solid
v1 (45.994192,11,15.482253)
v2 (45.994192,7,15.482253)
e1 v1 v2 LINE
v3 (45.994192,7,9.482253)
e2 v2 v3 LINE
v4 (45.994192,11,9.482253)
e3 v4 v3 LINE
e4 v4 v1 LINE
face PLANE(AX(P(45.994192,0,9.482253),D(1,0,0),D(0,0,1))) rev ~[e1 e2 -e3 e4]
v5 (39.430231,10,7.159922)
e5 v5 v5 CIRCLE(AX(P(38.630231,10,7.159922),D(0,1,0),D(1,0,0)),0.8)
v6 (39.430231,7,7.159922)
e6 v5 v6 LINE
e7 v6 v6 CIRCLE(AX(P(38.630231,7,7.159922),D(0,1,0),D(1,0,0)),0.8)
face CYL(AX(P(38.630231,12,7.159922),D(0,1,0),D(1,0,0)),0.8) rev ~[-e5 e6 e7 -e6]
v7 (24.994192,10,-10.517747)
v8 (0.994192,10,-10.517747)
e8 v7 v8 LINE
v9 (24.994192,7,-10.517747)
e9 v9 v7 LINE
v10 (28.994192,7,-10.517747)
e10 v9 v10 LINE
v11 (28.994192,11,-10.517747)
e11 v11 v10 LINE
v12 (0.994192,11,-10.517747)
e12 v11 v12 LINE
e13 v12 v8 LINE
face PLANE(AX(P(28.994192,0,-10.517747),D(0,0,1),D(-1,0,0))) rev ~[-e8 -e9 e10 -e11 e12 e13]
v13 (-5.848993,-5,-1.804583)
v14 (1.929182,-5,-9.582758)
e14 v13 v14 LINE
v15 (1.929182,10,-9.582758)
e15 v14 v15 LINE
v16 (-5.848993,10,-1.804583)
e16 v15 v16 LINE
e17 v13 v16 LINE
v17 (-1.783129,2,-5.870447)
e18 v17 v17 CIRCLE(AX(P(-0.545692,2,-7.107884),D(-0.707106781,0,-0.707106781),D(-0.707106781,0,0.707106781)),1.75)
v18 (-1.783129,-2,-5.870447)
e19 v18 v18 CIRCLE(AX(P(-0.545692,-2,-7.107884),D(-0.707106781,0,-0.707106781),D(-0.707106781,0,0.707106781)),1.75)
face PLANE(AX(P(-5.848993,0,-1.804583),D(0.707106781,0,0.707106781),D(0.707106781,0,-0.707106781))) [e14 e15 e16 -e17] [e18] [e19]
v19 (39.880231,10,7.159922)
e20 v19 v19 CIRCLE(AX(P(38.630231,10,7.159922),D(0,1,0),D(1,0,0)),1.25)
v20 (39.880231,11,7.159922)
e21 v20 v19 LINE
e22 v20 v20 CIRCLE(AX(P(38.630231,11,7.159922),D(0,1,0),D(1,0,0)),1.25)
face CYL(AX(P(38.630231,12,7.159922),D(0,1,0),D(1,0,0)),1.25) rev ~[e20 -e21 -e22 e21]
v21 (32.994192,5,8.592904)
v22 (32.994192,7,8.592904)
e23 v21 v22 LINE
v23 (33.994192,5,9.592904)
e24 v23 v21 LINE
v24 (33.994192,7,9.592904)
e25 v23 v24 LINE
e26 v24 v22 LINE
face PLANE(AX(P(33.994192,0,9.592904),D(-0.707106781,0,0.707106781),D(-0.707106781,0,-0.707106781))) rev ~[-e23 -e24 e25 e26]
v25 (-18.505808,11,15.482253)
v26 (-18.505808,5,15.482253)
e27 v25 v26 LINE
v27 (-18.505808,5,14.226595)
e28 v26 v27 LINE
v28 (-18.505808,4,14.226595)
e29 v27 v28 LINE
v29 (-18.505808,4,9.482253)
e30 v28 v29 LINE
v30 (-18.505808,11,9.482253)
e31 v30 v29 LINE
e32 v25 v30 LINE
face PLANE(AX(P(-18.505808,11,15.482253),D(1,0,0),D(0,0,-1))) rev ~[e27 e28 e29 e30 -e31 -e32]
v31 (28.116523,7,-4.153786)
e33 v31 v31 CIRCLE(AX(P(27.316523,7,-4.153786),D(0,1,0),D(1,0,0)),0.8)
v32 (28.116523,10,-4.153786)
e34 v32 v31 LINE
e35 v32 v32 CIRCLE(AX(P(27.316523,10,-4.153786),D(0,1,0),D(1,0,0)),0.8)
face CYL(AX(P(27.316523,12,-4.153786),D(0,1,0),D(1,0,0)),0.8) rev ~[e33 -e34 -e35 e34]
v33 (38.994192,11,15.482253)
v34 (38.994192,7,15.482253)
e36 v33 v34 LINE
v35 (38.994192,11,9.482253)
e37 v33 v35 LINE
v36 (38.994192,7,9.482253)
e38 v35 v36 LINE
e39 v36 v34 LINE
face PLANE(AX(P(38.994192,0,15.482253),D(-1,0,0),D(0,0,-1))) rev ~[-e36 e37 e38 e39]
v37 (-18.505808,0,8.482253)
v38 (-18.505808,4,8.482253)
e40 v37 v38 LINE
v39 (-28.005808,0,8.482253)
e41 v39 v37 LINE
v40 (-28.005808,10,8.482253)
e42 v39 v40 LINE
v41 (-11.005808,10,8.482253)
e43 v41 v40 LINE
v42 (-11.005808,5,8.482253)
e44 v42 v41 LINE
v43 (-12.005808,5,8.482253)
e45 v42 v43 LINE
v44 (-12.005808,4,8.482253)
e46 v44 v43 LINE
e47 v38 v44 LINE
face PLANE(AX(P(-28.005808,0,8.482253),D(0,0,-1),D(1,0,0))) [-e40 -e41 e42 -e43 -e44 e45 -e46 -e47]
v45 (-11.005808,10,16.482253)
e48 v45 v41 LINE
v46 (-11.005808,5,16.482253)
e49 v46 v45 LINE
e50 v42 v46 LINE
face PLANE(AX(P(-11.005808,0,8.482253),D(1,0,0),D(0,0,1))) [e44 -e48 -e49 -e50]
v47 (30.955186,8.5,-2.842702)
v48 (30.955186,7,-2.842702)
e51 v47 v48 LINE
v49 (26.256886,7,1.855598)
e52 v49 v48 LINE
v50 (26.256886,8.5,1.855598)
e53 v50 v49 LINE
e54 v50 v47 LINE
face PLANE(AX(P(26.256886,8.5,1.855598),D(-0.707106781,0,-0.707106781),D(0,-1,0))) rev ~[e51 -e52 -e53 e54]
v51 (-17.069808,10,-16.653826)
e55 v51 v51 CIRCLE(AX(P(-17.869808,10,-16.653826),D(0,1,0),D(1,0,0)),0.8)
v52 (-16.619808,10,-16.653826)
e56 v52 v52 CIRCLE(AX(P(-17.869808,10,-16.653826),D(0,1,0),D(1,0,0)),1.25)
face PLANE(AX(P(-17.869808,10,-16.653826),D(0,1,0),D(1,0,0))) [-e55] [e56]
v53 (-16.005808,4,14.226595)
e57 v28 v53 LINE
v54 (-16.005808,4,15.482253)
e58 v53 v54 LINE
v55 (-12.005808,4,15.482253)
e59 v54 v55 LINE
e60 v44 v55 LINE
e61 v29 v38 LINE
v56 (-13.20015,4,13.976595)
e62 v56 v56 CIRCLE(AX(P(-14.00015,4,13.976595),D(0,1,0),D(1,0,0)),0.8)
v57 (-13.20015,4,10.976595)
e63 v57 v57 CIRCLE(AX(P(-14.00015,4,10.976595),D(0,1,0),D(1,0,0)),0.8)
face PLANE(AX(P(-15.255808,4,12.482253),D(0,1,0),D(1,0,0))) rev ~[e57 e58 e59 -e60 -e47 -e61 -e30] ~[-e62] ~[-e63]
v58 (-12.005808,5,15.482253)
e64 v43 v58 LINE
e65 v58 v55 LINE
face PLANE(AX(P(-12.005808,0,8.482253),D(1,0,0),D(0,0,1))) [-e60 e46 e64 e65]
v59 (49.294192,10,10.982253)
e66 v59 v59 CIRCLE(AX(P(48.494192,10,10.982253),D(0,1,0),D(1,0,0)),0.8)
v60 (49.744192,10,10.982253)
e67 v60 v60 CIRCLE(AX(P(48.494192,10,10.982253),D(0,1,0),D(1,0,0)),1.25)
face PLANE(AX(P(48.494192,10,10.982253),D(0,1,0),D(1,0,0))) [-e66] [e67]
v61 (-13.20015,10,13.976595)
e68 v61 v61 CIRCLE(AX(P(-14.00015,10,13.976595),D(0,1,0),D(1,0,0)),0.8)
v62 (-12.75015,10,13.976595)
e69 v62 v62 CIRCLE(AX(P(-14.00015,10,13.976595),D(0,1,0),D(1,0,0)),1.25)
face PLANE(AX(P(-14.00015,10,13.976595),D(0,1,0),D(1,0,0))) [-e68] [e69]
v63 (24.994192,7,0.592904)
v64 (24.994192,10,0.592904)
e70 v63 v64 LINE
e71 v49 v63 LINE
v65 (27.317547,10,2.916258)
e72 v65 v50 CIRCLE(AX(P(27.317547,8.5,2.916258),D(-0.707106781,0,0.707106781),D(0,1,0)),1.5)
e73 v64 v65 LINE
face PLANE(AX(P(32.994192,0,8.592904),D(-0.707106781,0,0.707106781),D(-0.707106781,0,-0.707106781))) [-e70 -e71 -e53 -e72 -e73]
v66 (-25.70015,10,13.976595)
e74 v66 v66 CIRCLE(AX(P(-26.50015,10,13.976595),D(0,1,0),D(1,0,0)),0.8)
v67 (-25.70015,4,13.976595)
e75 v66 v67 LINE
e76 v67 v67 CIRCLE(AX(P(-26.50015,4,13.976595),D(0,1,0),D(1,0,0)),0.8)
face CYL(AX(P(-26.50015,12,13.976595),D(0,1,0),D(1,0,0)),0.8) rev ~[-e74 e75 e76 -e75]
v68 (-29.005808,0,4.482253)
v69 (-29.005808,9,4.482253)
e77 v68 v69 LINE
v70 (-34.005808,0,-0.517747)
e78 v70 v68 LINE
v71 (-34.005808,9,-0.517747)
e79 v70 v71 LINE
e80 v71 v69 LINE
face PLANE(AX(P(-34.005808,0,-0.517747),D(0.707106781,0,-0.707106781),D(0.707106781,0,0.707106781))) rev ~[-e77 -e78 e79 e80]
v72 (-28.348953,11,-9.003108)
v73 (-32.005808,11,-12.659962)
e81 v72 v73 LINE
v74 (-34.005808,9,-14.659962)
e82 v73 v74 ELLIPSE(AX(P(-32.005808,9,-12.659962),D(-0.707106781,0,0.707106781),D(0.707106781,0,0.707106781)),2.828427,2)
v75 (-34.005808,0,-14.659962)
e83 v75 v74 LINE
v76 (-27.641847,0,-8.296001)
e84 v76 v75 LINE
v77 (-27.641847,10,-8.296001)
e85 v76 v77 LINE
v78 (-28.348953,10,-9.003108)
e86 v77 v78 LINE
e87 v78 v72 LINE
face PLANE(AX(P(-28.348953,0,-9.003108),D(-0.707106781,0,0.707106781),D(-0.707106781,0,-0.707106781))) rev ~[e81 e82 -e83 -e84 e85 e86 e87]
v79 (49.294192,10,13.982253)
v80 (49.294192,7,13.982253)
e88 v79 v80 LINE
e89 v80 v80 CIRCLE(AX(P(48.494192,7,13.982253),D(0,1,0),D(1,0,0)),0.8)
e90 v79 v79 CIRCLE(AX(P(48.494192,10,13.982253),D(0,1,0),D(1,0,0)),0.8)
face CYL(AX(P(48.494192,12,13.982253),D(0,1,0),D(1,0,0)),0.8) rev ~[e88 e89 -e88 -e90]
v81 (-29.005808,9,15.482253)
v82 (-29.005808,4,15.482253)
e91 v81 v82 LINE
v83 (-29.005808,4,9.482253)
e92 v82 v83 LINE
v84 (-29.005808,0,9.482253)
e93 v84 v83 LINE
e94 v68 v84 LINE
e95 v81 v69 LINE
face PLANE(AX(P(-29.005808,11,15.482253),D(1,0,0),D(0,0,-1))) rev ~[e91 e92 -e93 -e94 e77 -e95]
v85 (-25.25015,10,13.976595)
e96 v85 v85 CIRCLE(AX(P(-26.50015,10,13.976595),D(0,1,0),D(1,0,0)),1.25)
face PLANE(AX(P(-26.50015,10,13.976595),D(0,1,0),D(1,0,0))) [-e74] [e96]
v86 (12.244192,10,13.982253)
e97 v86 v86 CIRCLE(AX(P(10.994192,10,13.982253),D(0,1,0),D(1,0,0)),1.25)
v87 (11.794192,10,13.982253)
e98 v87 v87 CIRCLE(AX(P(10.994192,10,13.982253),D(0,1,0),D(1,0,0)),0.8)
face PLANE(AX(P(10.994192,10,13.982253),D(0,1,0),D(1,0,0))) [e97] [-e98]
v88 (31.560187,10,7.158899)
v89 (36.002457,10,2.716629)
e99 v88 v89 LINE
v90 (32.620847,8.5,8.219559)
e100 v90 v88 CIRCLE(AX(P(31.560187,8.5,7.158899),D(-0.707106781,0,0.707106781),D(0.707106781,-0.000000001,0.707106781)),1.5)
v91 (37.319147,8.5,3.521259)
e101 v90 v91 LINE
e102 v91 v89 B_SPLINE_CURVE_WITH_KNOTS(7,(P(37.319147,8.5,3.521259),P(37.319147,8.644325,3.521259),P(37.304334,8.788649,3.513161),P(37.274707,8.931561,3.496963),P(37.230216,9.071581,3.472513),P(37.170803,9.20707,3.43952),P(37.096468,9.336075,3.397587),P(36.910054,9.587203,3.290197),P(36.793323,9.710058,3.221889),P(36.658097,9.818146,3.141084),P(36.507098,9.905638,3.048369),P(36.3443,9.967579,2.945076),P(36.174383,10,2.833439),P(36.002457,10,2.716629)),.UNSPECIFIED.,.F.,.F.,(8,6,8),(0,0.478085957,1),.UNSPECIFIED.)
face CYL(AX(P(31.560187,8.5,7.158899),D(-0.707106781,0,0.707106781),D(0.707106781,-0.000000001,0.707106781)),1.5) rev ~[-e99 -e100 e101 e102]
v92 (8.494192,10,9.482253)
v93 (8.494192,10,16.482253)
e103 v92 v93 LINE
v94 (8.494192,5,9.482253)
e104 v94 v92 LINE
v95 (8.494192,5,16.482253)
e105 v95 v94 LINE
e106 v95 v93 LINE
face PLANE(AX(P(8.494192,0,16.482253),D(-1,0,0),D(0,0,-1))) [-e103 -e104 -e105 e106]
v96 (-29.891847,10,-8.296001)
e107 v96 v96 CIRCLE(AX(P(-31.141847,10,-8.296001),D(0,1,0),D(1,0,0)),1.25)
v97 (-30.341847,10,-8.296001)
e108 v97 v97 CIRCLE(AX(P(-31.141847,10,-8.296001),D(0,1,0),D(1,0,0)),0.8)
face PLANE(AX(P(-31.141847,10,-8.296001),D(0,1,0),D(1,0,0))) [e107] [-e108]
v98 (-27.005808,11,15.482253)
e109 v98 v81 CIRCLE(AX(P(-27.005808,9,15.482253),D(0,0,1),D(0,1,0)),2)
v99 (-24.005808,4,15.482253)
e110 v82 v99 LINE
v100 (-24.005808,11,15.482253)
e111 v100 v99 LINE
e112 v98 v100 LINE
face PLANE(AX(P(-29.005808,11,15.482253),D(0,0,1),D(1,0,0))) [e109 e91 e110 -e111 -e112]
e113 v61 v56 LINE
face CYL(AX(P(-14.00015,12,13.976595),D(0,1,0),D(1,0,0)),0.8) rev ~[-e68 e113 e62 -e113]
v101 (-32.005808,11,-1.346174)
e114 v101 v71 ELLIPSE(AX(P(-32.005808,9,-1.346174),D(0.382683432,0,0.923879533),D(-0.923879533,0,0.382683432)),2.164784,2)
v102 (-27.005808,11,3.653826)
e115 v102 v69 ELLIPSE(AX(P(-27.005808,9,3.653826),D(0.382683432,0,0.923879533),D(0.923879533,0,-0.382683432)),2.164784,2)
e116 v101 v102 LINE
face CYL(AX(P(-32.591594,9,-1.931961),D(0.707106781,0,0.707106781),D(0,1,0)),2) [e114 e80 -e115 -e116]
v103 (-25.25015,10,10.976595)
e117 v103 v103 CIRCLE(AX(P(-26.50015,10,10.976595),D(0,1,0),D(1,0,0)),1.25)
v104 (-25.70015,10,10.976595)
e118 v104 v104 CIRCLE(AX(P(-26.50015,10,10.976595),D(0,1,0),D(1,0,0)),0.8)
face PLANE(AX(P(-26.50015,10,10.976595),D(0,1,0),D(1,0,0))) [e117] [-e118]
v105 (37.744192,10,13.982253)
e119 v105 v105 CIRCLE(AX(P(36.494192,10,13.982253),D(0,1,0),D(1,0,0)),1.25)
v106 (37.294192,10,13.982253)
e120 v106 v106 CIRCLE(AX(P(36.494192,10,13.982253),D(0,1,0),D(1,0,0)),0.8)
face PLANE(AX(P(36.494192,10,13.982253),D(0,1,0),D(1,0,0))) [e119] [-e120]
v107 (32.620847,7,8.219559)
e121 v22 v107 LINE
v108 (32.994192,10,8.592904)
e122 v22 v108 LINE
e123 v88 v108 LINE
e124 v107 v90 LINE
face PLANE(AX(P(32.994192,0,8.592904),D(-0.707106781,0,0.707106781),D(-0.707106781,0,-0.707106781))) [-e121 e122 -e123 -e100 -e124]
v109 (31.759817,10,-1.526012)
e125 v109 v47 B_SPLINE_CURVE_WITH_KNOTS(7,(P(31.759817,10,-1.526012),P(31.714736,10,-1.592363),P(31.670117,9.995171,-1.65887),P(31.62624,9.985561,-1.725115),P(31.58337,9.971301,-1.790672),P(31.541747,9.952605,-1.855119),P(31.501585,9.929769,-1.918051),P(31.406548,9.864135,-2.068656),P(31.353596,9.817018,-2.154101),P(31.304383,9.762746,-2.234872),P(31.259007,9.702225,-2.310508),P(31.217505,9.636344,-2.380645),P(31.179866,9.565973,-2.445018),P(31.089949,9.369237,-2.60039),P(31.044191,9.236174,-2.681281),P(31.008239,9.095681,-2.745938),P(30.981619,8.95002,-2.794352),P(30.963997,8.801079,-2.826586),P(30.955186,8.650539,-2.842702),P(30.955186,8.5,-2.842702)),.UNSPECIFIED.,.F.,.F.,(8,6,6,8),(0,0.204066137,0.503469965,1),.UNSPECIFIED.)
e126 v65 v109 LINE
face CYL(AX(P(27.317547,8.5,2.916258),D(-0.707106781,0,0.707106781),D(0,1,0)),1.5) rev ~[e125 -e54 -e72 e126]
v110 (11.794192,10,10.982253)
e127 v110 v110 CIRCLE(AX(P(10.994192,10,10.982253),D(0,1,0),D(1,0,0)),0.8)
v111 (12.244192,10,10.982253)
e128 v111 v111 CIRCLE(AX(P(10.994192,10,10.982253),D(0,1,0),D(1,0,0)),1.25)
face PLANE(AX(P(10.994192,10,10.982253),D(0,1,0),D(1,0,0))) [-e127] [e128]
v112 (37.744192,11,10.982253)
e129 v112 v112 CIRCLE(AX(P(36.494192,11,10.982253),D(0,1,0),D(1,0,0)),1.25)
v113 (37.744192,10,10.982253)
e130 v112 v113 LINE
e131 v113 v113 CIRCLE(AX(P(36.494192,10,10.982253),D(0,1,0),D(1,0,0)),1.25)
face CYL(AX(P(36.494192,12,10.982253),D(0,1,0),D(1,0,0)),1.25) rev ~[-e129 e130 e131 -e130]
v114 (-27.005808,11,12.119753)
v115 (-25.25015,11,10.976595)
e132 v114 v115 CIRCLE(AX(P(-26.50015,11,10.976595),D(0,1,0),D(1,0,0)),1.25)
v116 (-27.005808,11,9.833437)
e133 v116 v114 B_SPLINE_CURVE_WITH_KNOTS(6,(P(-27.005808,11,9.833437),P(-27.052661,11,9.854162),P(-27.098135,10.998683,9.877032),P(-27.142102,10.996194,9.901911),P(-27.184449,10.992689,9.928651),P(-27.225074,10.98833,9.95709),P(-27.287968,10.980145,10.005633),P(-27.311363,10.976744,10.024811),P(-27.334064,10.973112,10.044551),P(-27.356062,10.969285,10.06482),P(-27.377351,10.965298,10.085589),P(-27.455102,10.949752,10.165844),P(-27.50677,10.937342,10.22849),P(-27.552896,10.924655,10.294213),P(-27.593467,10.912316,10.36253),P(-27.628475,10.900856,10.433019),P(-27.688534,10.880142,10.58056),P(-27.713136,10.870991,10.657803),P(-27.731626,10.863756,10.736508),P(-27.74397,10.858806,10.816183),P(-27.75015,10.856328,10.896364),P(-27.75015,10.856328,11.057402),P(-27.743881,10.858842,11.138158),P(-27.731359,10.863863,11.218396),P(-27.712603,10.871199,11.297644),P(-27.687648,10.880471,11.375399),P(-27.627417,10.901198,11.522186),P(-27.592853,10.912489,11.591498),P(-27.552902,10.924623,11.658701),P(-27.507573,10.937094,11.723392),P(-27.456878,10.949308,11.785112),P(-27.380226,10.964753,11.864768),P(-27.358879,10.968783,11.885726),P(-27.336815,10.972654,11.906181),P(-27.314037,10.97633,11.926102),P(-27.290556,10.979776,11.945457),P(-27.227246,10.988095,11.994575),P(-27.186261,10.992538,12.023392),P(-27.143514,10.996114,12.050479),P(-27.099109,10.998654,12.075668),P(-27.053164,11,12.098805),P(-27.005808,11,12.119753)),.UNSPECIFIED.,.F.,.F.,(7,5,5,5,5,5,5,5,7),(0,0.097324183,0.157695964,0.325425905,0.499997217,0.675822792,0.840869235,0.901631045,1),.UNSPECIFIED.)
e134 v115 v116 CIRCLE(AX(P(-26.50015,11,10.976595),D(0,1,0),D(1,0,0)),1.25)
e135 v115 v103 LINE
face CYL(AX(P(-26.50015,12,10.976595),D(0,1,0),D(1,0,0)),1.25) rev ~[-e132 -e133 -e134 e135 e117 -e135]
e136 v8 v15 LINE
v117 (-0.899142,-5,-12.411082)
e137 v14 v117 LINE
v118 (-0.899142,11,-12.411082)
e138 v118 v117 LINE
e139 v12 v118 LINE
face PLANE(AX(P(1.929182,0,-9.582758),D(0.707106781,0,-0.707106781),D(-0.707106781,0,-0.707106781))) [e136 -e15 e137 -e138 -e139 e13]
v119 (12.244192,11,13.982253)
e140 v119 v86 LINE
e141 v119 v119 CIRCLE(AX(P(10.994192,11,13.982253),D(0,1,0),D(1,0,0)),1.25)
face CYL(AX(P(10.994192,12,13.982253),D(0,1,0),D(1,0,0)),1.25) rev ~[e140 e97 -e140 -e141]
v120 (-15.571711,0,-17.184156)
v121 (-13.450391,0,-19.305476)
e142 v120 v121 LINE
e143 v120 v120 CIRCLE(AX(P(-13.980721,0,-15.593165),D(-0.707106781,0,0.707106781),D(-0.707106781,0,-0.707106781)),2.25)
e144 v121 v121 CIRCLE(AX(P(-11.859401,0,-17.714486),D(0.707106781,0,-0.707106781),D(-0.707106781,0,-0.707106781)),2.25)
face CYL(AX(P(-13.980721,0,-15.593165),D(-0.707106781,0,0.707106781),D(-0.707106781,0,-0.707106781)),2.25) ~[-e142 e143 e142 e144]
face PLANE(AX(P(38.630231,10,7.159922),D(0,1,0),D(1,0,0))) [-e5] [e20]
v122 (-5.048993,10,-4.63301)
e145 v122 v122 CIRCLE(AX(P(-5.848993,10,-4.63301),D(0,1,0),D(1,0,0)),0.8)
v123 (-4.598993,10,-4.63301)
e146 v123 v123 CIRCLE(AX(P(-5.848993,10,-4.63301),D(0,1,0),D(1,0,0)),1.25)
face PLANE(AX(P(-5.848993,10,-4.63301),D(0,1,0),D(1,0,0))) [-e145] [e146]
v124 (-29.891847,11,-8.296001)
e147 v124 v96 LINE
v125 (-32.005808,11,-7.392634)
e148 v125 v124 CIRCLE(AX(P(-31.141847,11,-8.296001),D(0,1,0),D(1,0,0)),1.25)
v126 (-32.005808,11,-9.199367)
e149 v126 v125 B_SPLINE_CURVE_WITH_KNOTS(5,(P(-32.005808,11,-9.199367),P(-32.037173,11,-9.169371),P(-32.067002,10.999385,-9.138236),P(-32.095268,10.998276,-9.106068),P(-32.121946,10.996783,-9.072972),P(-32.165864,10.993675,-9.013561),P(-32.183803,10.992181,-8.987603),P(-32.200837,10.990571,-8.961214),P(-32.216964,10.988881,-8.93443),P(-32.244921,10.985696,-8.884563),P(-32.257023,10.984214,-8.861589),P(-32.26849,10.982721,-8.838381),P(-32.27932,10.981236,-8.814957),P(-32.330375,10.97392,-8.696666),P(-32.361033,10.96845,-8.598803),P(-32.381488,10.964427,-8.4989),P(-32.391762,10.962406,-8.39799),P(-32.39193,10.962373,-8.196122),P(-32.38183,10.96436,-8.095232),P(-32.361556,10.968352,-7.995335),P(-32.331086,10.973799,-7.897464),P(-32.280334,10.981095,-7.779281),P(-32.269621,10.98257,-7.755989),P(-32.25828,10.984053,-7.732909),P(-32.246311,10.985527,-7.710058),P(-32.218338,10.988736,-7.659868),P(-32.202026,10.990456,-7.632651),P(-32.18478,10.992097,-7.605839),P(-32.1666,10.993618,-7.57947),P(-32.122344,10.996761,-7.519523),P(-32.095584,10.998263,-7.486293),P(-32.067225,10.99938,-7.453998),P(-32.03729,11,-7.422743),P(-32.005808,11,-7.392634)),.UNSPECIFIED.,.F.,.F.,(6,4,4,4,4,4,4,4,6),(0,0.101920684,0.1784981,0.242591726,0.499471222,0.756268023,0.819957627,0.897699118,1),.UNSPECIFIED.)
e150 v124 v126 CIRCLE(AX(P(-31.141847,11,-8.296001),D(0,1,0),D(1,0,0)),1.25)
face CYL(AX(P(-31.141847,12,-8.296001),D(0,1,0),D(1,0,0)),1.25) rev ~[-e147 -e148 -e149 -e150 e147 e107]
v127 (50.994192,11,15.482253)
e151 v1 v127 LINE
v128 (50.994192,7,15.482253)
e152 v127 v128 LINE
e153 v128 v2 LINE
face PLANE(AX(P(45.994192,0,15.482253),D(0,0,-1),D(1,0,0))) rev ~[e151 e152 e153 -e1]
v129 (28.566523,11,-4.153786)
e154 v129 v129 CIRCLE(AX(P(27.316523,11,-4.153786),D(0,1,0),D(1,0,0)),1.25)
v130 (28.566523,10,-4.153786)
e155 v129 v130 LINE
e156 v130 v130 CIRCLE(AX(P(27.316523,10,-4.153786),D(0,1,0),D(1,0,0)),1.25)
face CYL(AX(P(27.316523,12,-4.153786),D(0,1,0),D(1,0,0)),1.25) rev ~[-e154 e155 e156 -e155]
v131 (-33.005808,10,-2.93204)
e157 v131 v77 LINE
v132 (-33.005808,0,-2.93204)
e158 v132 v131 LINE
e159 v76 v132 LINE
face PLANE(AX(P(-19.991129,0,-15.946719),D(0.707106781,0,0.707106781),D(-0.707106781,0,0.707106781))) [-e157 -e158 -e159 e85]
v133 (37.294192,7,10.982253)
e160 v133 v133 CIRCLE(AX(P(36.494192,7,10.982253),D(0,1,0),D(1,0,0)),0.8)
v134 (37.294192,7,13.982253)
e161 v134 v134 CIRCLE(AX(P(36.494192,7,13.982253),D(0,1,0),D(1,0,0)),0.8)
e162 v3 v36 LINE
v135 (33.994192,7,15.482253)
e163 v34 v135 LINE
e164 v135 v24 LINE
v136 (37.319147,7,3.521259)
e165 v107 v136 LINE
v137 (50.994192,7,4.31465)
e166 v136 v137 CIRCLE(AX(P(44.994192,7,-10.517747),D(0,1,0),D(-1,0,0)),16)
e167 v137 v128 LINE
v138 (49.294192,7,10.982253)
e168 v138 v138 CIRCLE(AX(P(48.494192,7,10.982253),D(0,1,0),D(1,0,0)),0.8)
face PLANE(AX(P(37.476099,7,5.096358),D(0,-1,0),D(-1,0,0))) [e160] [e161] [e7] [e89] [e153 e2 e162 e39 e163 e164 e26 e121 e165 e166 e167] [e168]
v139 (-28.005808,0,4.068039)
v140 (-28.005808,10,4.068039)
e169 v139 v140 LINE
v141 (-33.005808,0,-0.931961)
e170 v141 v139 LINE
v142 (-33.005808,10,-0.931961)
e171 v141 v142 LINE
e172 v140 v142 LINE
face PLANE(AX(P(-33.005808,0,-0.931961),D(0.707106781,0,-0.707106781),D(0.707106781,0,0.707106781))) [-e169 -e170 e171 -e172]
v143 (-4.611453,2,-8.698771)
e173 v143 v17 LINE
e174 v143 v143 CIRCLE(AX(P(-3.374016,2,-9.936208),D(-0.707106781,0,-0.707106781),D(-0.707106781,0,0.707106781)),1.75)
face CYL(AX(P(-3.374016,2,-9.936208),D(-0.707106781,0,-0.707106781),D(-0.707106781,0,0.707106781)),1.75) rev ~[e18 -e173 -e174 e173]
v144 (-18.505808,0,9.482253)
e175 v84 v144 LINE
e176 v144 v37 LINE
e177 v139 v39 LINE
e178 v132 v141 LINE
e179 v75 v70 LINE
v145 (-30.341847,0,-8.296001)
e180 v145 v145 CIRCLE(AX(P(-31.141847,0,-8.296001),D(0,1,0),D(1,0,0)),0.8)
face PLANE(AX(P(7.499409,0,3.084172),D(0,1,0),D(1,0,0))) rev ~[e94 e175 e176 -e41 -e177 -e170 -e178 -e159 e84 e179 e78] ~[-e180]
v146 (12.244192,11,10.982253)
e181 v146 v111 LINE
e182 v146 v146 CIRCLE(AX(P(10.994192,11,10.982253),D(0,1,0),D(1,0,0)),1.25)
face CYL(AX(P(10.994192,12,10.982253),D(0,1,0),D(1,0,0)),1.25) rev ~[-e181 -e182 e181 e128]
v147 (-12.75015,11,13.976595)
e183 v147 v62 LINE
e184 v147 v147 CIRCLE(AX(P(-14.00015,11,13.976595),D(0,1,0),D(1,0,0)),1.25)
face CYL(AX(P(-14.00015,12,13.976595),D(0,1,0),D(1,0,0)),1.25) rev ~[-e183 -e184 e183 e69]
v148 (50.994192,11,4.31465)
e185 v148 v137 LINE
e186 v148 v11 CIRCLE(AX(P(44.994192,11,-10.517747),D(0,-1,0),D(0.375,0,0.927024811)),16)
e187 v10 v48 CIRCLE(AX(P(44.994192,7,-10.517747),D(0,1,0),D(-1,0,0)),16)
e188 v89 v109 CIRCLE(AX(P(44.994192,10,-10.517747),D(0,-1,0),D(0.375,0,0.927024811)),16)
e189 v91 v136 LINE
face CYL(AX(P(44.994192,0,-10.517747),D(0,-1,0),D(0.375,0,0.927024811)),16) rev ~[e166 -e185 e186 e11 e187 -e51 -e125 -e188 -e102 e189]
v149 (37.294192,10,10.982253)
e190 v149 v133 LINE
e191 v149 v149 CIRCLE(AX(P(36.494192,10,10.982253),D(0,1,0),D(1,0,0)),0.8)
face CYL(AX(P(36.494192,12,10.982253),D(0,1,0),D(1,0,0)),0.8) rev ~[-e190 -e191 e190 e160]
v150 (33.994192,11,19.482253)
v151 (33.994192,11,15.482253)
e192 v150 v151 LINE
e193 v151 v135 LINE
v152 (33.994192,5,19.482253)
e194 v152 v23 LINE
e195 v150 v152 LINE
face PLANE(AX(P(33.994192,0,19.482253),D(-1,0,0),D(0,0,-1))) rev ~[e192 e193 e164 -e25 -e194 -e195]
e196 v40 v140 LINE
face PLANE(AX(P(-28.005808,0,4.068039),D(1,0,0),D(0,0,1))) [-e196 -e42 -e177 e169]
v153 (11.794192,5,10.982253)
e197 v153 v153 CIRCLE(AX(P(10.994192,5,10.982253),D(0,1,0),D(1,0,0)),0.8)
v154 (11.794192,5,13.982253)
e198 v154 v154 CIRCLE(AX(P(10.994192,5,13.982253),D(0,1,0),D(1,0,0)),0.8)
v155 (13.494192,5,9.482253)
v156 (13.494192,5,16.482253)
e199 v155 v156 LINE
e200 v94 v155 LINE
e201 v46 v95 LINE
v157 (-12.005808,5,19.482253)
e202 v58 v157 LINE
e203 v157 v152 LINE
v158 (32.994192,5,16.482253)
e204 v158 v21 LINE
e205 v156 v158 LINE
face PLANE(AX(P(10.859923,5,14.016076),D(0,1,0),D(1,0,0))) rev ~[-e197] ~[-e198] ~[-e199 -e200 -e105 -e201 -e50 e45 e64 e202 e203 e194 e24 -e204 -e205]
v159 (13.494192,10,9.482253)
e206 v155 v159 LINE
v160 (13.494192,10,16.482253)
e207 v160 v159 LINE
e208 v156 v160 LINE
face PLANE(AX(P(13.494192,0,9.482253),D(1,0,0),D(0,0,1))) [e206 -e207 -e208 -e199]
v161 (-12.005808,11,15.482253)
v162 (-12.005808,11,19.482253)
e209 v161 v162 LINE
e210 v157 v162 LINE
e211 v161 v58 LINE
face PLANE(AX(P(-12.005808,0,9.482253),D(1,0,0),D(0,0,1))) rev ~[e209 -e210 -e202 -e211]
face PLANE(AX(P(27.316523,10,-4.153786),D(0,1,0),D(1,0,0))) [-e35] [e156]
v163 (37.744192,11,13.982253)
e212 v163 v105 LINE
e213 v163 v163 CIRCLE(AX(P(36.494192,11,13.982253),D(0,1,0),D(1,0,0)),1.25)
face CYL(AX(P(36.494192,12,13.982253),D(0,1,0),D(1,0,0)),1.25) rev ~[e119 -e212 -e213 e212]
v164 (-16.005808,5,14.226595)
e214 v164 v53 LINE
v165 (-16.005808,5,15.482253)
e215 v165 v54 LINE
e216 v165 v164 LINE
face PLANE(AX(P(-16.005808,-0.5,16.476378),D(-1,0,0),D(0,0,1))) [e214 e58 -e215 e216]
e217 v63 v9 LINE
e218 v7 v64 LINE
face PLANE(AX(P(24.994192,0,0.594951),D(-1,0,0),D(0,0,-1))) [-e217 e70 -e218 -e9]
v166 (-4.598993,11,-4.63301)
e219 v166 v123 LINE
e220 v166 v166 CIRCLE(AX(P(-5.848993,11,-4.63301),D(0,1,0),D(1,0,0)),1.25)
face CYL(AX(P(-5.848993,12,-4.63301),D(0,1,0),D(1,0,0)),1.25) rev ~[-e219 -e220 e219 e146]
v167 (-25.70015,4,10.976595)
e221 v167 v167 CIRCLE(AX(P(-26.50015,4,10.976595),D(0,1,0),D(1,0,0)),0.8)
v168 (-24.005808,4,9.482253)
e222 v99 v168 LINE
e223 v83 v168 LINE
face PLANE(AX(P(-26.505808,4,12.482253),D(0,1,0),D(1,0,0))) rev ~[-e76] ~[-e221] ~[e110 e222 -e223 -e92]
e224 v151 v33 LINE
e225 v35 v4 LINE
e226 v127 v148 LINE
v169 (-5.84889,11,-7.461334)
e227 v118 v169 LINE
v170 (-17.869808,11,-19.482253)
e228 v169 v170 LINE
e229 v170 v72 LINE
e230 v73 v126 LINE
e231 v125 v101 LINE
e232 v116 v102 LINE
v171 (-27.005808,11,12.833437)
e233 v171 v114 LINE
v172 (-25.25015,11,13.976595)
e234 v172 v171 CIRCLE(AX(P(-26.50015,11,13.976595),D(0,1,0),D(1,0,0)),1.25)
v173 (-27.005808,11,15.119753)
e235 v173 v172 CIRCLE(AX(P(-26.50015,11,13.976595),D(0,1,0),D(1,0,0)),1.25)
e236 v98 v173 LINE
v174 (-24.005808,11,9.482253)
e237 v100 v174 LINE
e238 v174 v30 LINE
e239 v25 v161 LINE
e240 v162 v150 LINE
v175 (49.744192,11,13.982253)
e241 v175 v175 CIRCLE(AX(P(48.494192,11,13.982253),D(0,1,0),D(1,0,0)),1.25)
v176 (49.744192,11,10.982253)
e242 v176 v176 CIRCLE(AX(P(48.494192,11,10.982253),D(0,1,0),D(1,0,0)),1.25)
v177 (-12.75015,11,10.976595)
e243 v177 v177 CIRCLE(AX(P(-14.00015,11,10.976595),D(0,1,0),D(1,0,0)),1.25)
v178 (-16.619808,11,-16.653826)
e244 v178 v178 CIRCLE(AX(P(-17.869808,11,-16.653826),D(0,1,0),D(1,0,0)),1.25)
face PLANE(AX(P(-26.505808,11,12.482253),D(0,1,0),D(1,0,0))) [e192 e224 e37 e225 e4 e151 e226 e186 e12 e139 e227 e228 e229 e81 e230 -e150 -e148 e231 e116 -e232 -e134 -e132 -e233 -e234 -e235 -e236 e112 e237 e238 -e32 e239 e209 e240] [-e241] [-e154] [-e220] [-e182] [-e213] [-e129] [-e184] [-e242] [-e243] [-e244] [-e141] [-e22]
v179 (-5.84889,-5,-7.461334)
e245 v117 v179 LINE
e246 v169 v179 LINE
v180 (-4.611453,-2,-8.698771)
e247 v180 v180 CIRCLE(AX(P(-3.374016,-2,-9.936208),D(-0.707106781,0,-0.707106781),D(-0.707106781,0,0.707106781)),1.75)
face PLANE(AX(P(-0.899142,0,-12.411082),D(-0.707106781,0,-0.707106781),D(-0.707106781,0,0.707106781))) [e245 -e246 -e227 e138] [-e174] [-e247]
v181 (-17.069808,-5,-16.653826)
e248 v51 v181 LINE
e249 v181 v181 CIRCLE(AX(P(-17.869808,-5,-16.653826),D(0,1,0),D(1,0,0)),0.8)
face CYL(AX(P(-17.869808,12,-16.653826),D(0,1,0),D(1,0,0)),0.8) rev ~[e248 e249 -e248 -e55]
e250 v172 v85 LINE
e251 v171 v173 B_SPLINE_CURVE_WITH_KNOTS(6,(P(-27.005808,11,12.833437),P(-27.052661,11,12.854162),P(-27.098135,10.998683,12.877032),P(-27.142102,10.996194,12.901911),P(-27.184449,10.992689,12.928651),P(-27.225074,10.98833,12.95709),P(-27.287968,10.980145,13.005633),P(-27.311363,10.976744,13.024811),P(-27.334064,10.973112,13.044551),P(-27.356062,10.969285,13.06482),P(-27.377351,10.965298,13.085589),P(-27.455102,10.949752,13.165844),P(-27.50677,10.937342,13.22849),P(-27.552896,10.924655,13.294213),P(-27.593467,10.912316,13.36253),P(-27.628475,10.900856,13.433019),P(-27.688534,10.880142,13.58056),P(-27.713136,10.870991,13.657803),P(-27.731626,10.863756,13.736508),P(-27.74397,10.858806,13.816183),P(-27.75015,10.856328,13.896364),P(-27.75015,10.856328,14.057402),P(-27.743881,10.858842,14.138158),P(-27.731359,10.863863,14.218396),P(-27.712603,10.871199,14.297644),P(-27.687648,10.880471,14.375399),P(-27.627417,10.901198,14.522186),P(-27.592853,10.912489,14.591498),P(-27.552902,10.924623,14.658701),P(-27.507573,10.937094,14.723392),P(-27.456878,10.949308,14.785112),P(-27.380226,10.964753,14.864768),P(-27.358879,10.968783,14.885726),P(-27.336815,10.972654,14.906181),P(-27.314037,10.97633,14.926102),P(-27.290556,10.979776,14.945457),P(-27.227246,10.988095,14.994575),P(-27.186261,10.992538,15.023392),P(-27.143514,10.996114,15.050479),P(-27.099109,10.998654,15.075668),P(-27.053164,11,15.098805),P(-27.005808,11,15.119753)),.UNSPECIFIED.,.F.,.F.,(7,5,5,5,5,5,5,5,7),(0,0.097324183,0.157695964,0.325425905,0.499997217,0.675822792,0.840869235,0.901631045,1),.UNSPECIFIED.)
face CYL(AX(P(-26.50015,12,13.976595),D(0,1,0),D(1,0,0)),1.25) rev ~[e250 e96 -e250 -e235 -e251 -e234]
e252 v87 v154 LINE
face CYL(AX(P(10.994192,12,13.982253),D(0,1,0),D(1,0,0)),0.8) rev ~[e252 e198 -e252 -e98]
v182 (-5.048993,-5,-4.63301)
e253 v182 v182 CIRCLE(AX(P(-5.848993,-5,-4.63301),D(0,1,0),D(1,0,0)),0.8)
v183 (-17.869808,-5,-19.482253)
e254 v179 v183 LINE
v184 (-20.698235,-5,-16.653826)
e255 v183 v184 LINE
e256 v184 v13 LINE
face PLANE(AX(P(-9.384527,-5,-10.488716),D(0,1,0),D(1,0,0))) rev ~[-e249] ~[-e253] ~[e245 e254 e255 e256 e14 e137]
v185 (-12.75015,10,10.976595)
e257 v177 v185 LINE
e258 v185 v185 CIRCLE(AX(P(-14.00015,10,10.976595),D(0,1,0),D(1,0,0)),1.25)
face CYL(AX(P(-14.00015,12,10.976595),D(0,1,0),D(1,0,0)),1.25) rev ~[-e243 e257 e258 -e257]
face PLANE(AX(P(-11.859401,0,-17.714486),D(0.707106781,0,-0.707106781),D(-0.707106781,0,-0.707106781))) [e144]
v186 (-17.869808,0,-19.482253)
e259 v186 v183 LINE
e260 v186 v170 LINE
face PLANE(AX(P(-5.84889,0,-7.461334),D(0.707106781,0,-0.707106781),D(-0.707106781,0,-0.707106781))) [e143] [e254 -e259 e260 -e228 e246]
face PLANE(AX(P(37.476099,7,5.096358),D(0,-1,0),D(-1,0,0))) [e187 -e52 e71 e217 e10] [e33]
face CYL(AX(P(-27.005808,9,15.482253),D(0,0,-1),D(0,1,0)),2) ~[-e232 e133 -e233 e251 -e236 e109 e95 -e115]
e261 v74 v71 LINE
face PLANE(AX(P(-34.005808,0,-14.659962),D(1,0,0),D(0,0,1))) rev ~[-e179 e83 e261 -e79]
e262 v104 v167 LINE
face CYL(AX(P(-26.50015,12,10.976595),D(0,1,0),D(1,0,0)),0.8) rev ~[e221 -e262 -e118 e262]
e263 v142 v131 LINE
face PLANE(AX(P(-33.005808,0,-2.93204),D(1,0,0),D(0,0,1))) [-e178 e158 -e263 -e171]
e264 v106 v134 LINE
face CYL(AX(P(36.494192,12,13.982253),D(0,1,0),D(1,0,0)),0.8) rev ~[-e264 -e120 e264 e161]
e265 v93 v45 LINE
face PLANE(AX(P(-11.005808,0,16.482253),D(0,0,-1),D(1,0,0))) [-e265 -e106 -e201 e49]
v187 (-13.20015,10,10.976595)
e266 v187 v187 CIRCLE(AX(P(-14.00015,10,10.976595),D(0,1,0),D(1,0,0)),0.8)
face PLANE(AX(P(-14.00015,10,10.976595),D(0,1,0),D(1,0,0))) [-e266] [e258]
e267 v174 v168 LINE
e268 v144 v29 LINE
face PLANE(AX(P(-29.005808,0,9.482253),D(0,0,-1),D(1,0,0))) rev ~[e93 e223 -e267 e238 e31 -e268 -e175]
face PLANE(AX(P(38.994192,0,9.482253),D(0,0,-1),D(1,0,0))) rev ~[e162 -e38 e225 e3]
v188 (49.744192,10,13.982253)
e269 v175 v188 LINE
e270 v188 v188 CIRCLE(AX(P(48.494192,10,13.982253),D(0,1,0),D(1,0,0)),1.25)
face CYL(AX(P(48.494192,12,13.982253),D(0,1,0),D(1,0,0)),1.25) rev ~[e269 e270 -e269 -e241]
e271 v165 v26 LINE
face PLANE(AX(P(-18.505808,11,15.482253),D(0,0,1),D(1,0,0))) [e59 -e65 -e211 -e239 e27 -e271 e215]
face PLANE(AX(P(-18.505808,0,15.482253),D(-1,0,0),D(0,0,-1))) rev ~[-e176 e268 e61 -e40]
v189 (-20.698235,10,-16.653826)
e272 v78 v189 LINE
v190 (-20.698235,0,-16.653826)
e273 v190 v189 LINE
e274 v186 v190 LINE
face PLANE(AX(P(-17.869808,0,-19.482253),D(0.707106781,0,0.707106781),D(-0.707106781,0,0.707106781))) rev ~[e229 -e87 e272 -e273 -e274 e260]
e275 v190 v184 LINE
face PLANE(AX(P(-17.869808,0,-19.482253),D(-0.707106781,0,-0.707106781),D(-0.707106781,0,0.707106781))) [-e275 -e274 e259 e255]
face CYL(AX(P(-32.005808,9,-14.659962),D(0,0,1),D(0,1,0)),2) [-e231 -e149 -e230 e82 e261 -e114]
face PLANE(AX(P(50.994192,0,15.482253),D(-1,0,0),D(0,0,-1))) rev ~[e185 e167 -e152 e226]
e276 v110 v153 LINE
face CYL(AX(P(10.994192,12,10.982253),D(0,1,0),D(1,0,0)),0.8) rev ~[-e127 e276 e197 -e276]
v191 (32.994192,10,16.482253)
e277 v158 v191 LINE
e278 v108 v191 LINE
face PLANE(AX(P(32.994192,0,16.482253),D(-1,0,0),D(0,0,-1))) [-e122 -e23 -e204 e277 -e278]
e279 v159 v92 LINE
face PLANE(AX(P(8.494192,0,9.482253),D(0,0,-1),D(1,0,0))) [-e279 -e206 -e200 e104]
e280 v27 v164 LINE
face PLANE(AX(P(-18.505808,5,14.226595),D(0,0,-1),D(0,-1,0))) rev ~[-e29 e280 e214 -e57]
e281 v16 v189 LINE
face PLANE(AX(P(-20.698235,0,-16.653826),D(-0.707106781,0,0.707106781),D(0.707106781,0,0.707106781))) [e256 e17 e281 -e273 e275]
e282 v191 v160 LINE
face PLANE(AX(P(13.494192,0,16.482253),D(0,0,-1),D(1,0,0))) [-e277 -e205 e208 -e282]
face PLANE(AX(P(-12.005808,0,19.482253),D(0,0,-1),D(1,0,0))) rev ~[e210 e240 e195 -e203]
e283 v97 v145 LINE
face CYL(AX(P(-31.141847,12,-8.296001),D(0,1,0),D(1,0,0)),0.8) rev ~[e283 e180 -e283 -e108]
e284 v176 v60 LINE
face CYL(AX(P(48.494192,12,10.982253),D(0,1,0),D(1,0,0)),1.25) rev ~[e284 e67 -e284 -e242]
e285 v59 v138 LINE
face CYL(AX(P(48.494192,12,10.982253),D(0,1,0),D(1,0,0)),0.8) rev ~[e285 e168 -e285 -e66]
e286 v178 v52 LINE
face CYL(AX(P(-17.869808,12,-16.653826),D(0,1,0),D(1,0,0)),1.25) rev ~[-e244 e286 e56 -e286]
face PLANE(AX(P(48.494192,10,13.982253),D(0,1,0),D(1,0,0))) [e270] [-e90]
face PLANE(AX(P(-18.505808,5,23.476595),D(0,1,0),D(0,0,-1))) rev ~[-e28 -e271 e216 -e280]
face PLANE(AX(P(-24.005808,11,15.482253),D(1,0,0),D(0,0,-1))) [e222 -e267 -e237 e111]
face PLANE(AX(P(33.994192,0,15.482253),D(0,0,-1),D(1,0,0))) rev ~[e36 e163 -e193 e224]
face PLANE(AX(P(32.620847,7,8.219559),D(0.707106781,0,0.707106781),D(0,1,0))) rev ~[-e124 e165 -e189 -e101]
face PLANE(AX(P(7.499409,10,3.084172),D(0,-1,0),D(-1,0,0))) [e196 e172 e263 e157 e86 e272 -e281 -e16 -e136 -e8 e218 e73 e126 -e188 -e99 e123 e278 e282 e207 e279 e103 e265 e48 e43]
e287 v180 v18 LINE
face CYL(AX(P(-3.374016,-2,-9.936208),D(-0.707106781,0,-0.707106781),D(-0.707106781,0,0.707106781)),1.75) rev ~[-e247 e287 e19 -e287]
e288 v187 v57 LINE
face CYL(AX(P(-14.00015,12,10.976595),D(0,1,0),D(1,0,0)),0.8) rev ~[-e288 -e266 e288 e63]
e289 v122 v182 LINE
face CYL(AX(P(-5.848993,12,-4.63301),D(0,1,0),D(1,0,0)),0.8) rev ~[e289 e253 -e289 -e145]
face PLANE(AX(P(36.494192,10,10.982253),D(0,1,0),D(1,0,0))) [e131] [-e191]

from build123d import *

# Parameters (mm, degrees)
BOSS_EXTRUDE1_DEPTH      = 11
BOSS_EXTRUDE2_START      = 11
BOSS_EXTRUDE2_DEPTH      = 1
BOSS_EXTRUDE3_START      = 11
SKETCH5_W                = 5
SKETCH5_H                = 6
SKETCH5_W_2              = 6.5
BOSS_EXTRUDE3_DEPTH      = 7
SKETCH9_R                = 2.25
BOSS_EXTRUDE4_DEPTH      = 3
BOSS_EXTRUDE5_DEPTH      = 5
SKETCH7_R                = 1.75
TUBE_HOLES_DEPTH         = 4
PALM_TUBE_OPENING_DEPTH  = 10
WRIST_TUBE_OPENING_DEPTH = 5
SKETCH13_W               = 5
SKETCH13_H               = 6
SKETCH13_W_2             = 6.5
SKETCH13_H_2             = 7
CUT_EXTRUDE1_DEPTH       = 4
FILLET1_R                = 2
POT_INSERT_DEPTH         = 2.5
SCREW_START              = 12
SKETCH6_R                = 0.8
SCREW_HOLES_DEPTH        = 18
SKETCH10_R               = 1.25
SCREW_HEADS_DEPTH        = 2
CUT_EXTRUDE2_DEPTH       = 7
CUT_EXTRUDE4_DEPTH       = 7


with BuildPart() as part:
    # Sketch1 → Boss-Extrude1 (new body)
    with BuildSketch(Plane(origin=(0, 0, 0), x_dir=(1, 0, 0), z_dir=(0, 1, 0))):
        with BuildLine():
            Line((24.994192305, 10.517747211), (0.994192305, 10.517747211))
            Line((0.994192305, 10.517747211), (-0.899142434, 12.41108195))
            Line((-0.899142434, 12.41108195), (-5.848889902, 7.461334481))
            Line((-5.848889902, 7.461334481), (-17.86980821, 19.482252789))
            Line((-17.86980821, 19.482252789), (-28.348953445, 9.003107554))
            Line((-28.348953445, 9.003107554), (-34.005807695, 14.659961804))
            Line((-34.005807695, 14.659961804), (-34.005807695, 0.517747211))
            Line((-34.005807695, 0.517747211), (-29.005807695, -4.482252789))
            Line((-29.005807695, -4.482252789), (-29.005807695, -9.482252789))
            Line((-29.005807695, -9.482252789), (-12.005807695, -9.482252789))
            Line((-12.005807695, -9.482252789), (-12.005807695, -19.482252789))
            Line((-12.005807695, -19.482252789), (33.994192305, -19.482252789))
            Line((33.994192305, -19.482252789), (33.994192305, -15.482252791))
            Line((33.994192305, -15.482252791), (38.994192305, -15.482252791))
            Line((38.994192305, -15.482252791), (38.994192305, -9.482252791))
            Line((38.994192305, -9.482252791), (45.994192305, -9.482252791))
            Line((45.994192305, -9.482252791), (45.994192305, -15.482252791))
            Line((45.994192305, -15.482252791), (50.994192304, -15.482252791))
            Line((50.994192304, -15.482252791), (50.994192304, -4.314649764))
            ThreePointArc((50.994192304, -4.314649764), (36.049920395, -2.74875195), (28.994192305, 10.517747211))
            Line((28.994192305, 10.517747211), (24.994192305, 10.517747211))
        make_face()
        Polygon((13.494192305, -16.482252789), (32.994192305, -16.482252789), (32.994192305, -8.592903632), (24.994192305, -0.592903632), (24.994192305, 9.517747211), (1.864171021, 9.517747211), (-5.84899293, 1.80458326), (-19.991128553, 15.946718883), (-33.005807695, 2.932039742), (-33.005807695, 0.931960773), (-28.005807695, -4.068039227), (-28.005807695, -8.482252789), (-11.005807695, -8.482252789), (-11.005807695, -16.482252789), (8.494192305, -16.482252789), (8.494192305, -9.482252792), (13.494192305, -9.482252792), align=None, mode=Mode.SUBTRACT)
    extrude(amount=BOSS_EXTRUDE1_DEPTH)

    # Sketch3 → Boss-Extrude2 (add)
    with BuildSketch(Plane(origin=(0, 0, 0), x_dir=(1, 0, 0), z_dir=(0, 1, 0)).offset(BOSS_EXTRUDE2_START)):
        with BuildLine():
            Line((-17.86980821, 19.482252789), (-5.848889902, 7.461334481))
            Line((-5.848889902, 7.461334481), (-0.899142434, 12.41108195))
            Line((-0.899142434, 12.41108195), (0.994192305, 10.517747211))
            Line((0.994192305, 10.517747211), (24.994192305, 10.517747211))
            Line((24.994192305, 10.517747211), (28.994192305, 10.517747211))
            ThreePointArc((28.994192305, 10.517747211), (36.049920395, -2.74875195), (50.994192304, -4.314649764))
            Line((50.994192304, -4.314649764), (50.994192304, -15.482252791))
            Line((50.994192304, -15.482252791), (45.994192305, -15.482252791))
            Line((45.994192305, -15.482252791), (45.994192305, -9.482252791))
            Line((45.994192305, -9.482252791), (38.994192305, -9.482252791))
            Line((38.994192305, -9.482252791), (38.994192305, -15.482252791))
            Line((38.994192305, -15.482252791), (33.994192305, -15.482252791))
            Line((33.994192305, -15.482252791), (33.994192305, -19.482252789))
            Line((33.994192305, -19.482252789), (-12.005807695, -19.482252789))
            Line((-12.005807695, -19.482252789), (-12.005807695, -9.482252789))
            Line((-12.005807695, -9.482252789), (-29.005807695, -9.482252789))
            Line((-29.005807695, -9.482252789), (-29.005807695, -4.482252789))
            Line((-29.005807695, -4.482252789), (-34.005807695, 0.517747211))
            Line((-34.005807695, 0.517747211), (-34.005807695, 14.659961804))
            Line((-34.005807695, 14.659961804), (-28.348953445, 9.003107554))
            Line((-28.348953445, 9.003107554), (-17.86980821, 19.482252789))
        make_face()
    extrude(amount=-BOSS_EXTRUDE2_DEPTH)

    # Sketch5 → Boss-Extrude3 (add)
    with BuildSketch(Plane(origin=(0, 0, 0), x_dir=(1, 0, 0), z_dir=(0, 1, 0)).offset(BOSS_EXTRUDE3_START)):
        with Locations((-26.505807695, -12.482252789)):
            Rectangle(SKETCH5_W, SKETCH5_H)
        with Locations((-15.255807695, -12.482252789)):
            Rectangle(SKETCH5_W_2, SKETCH5_H)
    extrude(amount=-BOSS_EXTRUDE3_DEPTH)

    # Sketch9 → Boss-Extrude4 (add)
    with BuildSketch(Plane(origin=(0.80622229, 0, -0.80622229), x_dir=(-0.707106781, 0, -0.707106781), z_dir=(0.707106781, 0, -0.707106781))):
        with Locations((20.911895624, 0)):
            Circle(SKETCH9_R)
    extrude(amount=BOSS_EXTRUDE4_DEPTH)

    # Sketch11 → Boss-Extrude5 (add)
    with BuildSketch(Plane(origin=(0, 0, 0), x_dir=(1, 0, 0), z_dir=(0, 1, 0))):
        Polygon((-17.86980821, 19.482252789), (-20.698235335, 16.653825665), (-5.84899293, 1.80458326), (1.929181663, 9.582757853), (-0.899142434, 12.41108195), (-5.848889902, 7.461334481), align=None)
    extrude(amount=-BOSS_EXTRUDE5_DEPTH)

    # Sketch7 → Tube Holes (cut)
    with BuildSketch(Plane(origin=(-6.655112192, 0, -6.655112192), x_dir=(-0.707106781, 0, 0.707106781), z_dir=(-0.707106781, 0, -0.707106781))):
        with Locations((-4.640170496, 2)):
            Circle(SKETCH7_R)
        with Locations((-4.640170496, -2)):
            Circle(SKETCH7_R)
    extrude(amount=-TUBE_HOLES_DEPTH, mode=Mode.SUBTRACT)

    # Sketch8 → Palm Tube Opening (cut)
    with BuildSketch(Plane(origin=(0, 0, 0), x_dir=(1, 0, 0), z_dir=(0, 1, 0))):
        Polygon((24.994192305, 10.517747211), (0.994192305, 10.517747211), (1.929181663, 9.582757853), (1.864171021, 9.517747211), (27.864171021, -16.482252789), (32.994192305, -16.482252789), (32.994192305, -10.369554414), (28.931746465, -14.432000255), (20.044444837, -5.544698627), (24.994192305, -0.594951158), align=None)
        Polygon((-28.348953445, 9.003107554), (-20.698235335, 16.653825665), (-19.991128553, 15.946718883), (-27.641846664, 8.296000773), align=None)
    extrude(amount=PALM_TUBE_OPENING_DEPTH, mode=Mode.SUBTRACT)

    # Sketch12 → Wrist Tube Opening (cut)
    with BuildSketch(Plane(origin=(0, 0, 0), x_dir=(1, 0, 0), z_dir=(0, 1, 0))):
        Polygon((33.994192305, -19.482252789), (33.994192305, -9.592903632), (32.883541462, -8.482252789), (-12.005807695, -8.482252789), (-12.005807695, -19.482252789), align=None)
    extrude(amount=WRIST_TUBE_OPENING_DEPTH, mode=Mode.SUBTRACT)

    # Sketch13 → Cut-Extrude1 (cut)
    with BuildSketch(Plane(origin=(0, 0, 0), x_dir=(1, 0, 0), z_dir=(0, 1, 0))):
        with Locations((-26.505807695, -12.482252789)):
            Rectangle(SKETCH13_W, SKETCH13_H)
        with Locations((-15.255807695, -11.982252789)):
            Rectangle(SKETCH13_W_2, SKETCH13_H_2)
    extrude(amount=CUT_EXTRUDE1_DEPTH, mode=Mode.SUBTRACT)

    # Fillet1
    fillet1_edges = [part.edges().sort_by_distance(p)[0] for p in [
        (-34.005807695, 11, -7.588854507),
        (-31.505807695, 11, 1.982252789),
        (-29.005807695, 11, 9.982252789),
    ]]
    fillet(fillet1_edges, radius=FILLET1_R)

    # Sketch14 → Pot Insert (cut)
    with BuildSketch(Plane.ZY.offset(18.505807695)):
        Polygon((24.976594858, 1), (23.476594858, 4), (23.476594858, 5), (19.476594858, 5), (14.226594858, 5), (14.226594858, 4), (8.476594858, 4), (8.476594858, -0.5), (8.476594858, -5), (14.226594858, -5), (14.226594858, -6), (19.476594858, -6), (23.476594858, -6), (23.476594858, -5), (24.976594858, -2), (24.976594858, -0.5), align=None)
    extrude(amount=-POT_INSERT_DEPTH, mode=Mode.SUBTRACT)

    # Sketch6 → Screw Holes (cut, through all)
    with BuildSketch(Plane(origin=(0, 0, 0), x_dir=(1, 0, 0), z_dir=(0, 1, 0)).offset(SCREW_START)):
        with Locations((-31.141846664, 8.296000773)):
            Circle(SKETCH6_R)
        with Locations((-26.500149763, -10.976594858)):
            Circle(SKETCH6_R)
        with Locations((-26.500149763, -13.976594858)):
            Circle(SKETCH6_R)
        with Locations((-14.000149763, -13.976594858)):
            Circle(SKETCH6_R)
        with Locations((-14.000149763, -10.976594858)):
            Circle(SKETCH6_R)
        with Locations((10.994192305, -10.982252789)):
            Circle(SKETCH6_R)
        with Locations((10.994192305, -13.982252789)):
            Circle(SKETCH6_R)
        with Locations((-17.86980821, 16.653825665)):
            Circle(SKETCH6_R)
        with Locations((-5.84899293, 4.633010384)):
            Circle(SKETCH6_R)
        with Locations((27.316522776, 4.15378618)):
            Circle(SKETCH6_R)
        with Locations((38.630231275, -7.159922319)):
            Circle(SKETCH6_R)
        with Locations((36.494192305, -13.982252789)):
            Circle(SKETCH6_R)
        with Locations((36.494192305, -10.982252789)):
            Circle(SKETCH6_R)
        with Locations((48.494192305, -10.982252789)):
            Circle(SKETCH6_R)
        with Locations((48.494192305, -13.982252789)):
            Circle(SKETCH6_R)
    extrude(amount=-SCREW_HOLES_DEPTH, mode=Mode.SUBTRACT)

    # Sketch10 → Screw Heads (cut)
    with BuildSketch(Plane(origin=(0, 0, 0), x_dir=(1, 0, 0), z_dir=(0, 1, 0)).offset(SCREW_START)):
        with Locations((-17.86980821, 16.653825665)):
            Circle(SKETCH10_R)
        with Locations((-31.141846664, 8.296000773)):
            Circle(SKETCH10_R)
        with Locations((-26.500149763, -10.976594858)):
            Circle(SKETCH10_R)
        with Locations((-26.500149763, -13.976594858)):
            Circle(SKETCH10_R)
        with Locations((-14.000149763, -13.976594858)):
            Circle(SKETCH10_R)
        with Locations((-14.000149763, -10.976594858)):
            Circle(SKETCH10_R)
        with Locations((10.994192305, -10.982252789)):
            Circle(SKETCH10_R)
        with Locations((10.994192305, -13.982252789)):
            Circle(SKETCH10_R)
        with Locations((-5.84899293, 4.633010384)):
            Circle(SKETCH10_R)
        with Locations((27.316522776, 4.15378618)):
            Circle(SKETCH10_R)
        with Locations((38.630231275, -7.159922319)):
            Circle(SKETCH10_R)
        with Locations((36.494192305, -10.982252789)):
            Circle(SKETCH10_R)
        with Locations((36.494192305, -13.982252789)):
            Circle(SKETCH10_R)
        with Locations((48.494192305, -10.982252789)):
            Circle(SKETCH10_R)
        with Locations((48.494192305, -13.982252789)):
            Circle(SKETCH10_R)
    extrude(amount=-SCREW_HEADS_DEPTH, mode=Mode.SUBTRACT)

    # Sketch15 → Cut-Extrude2 (cut)
    with BuildSketch(Plane(origin=(0, 0, 0), x_dir=(1, 0, 0), z_dir=(0, 1, 0))):
        with BuildLine():
            Line((24.994192305, -0.592903632), (24.994192305, 10.517747211))
            Line((24.994192305, 10.517747211), (28.994192305, 10.517747211))
            ThreePointArc((28.994192305, 10.517747211), (36.049920395, -2.74875195), (50.994192304, -4.314649764))
            Line((50.994192304, -4.314649764), (50.994192304, -15.482252791))
            Line((50.994192304, -15.482252791), (45.994192305, -15.482252791))
            Line((45.994192305, -15.482252791), (45.994192305, -9.482252791))
            Line((45.994192305, -9.482252791), (38.994192305, -9.482252791))
            Line((38.994192305, -9.482252791), (38.994192305, -15.482252791))
            Line((38.994192305, -15.482252791), (33.994192305, -15.482252791))
            Line((33.994192305, -15.482252791), (33.994192305, -9.592903632))
            Line((33.994192305, -9.592903632), (24.994192305, -0.592903632))
        make_face()
    extrude(amount=CUT_EXTRUDE2_DEPTH, mode=Mode.SUBTRACT)

    # Sketch19 → Cut-Extrude4 (cut)
    with BuildSketch(Plane(origin=(12.200644337, 0, -12.200644337), x_dir=(0.707106781, 0, 0.707106781), z_dir=(-0.707106781, 0, 0.707106781))):
        with BuildLine():
            Line((19.878528118, 8.5), (19.878528118, 7))
            Line((19.878528118, 7), (28.878528118, 7))
            Line((28.878528118, 7), (28.878528118, 8.5))
            ThreePointArc((28.878528118, 8.5), (28.43918829, 9.560660172), (27.378528118, 10))
            Line((27.378528118, 10), (21.378528118, 10))
            ThreePointArc((21.378528118, 10), (20.317867946, 9.560660172), (19.878528118, 8.5))
        make_face()
    extrude(amount=-CUT_EXTRUDE4_DEPTH, mode=Mode.SUBTRACT)


solid = part.part
